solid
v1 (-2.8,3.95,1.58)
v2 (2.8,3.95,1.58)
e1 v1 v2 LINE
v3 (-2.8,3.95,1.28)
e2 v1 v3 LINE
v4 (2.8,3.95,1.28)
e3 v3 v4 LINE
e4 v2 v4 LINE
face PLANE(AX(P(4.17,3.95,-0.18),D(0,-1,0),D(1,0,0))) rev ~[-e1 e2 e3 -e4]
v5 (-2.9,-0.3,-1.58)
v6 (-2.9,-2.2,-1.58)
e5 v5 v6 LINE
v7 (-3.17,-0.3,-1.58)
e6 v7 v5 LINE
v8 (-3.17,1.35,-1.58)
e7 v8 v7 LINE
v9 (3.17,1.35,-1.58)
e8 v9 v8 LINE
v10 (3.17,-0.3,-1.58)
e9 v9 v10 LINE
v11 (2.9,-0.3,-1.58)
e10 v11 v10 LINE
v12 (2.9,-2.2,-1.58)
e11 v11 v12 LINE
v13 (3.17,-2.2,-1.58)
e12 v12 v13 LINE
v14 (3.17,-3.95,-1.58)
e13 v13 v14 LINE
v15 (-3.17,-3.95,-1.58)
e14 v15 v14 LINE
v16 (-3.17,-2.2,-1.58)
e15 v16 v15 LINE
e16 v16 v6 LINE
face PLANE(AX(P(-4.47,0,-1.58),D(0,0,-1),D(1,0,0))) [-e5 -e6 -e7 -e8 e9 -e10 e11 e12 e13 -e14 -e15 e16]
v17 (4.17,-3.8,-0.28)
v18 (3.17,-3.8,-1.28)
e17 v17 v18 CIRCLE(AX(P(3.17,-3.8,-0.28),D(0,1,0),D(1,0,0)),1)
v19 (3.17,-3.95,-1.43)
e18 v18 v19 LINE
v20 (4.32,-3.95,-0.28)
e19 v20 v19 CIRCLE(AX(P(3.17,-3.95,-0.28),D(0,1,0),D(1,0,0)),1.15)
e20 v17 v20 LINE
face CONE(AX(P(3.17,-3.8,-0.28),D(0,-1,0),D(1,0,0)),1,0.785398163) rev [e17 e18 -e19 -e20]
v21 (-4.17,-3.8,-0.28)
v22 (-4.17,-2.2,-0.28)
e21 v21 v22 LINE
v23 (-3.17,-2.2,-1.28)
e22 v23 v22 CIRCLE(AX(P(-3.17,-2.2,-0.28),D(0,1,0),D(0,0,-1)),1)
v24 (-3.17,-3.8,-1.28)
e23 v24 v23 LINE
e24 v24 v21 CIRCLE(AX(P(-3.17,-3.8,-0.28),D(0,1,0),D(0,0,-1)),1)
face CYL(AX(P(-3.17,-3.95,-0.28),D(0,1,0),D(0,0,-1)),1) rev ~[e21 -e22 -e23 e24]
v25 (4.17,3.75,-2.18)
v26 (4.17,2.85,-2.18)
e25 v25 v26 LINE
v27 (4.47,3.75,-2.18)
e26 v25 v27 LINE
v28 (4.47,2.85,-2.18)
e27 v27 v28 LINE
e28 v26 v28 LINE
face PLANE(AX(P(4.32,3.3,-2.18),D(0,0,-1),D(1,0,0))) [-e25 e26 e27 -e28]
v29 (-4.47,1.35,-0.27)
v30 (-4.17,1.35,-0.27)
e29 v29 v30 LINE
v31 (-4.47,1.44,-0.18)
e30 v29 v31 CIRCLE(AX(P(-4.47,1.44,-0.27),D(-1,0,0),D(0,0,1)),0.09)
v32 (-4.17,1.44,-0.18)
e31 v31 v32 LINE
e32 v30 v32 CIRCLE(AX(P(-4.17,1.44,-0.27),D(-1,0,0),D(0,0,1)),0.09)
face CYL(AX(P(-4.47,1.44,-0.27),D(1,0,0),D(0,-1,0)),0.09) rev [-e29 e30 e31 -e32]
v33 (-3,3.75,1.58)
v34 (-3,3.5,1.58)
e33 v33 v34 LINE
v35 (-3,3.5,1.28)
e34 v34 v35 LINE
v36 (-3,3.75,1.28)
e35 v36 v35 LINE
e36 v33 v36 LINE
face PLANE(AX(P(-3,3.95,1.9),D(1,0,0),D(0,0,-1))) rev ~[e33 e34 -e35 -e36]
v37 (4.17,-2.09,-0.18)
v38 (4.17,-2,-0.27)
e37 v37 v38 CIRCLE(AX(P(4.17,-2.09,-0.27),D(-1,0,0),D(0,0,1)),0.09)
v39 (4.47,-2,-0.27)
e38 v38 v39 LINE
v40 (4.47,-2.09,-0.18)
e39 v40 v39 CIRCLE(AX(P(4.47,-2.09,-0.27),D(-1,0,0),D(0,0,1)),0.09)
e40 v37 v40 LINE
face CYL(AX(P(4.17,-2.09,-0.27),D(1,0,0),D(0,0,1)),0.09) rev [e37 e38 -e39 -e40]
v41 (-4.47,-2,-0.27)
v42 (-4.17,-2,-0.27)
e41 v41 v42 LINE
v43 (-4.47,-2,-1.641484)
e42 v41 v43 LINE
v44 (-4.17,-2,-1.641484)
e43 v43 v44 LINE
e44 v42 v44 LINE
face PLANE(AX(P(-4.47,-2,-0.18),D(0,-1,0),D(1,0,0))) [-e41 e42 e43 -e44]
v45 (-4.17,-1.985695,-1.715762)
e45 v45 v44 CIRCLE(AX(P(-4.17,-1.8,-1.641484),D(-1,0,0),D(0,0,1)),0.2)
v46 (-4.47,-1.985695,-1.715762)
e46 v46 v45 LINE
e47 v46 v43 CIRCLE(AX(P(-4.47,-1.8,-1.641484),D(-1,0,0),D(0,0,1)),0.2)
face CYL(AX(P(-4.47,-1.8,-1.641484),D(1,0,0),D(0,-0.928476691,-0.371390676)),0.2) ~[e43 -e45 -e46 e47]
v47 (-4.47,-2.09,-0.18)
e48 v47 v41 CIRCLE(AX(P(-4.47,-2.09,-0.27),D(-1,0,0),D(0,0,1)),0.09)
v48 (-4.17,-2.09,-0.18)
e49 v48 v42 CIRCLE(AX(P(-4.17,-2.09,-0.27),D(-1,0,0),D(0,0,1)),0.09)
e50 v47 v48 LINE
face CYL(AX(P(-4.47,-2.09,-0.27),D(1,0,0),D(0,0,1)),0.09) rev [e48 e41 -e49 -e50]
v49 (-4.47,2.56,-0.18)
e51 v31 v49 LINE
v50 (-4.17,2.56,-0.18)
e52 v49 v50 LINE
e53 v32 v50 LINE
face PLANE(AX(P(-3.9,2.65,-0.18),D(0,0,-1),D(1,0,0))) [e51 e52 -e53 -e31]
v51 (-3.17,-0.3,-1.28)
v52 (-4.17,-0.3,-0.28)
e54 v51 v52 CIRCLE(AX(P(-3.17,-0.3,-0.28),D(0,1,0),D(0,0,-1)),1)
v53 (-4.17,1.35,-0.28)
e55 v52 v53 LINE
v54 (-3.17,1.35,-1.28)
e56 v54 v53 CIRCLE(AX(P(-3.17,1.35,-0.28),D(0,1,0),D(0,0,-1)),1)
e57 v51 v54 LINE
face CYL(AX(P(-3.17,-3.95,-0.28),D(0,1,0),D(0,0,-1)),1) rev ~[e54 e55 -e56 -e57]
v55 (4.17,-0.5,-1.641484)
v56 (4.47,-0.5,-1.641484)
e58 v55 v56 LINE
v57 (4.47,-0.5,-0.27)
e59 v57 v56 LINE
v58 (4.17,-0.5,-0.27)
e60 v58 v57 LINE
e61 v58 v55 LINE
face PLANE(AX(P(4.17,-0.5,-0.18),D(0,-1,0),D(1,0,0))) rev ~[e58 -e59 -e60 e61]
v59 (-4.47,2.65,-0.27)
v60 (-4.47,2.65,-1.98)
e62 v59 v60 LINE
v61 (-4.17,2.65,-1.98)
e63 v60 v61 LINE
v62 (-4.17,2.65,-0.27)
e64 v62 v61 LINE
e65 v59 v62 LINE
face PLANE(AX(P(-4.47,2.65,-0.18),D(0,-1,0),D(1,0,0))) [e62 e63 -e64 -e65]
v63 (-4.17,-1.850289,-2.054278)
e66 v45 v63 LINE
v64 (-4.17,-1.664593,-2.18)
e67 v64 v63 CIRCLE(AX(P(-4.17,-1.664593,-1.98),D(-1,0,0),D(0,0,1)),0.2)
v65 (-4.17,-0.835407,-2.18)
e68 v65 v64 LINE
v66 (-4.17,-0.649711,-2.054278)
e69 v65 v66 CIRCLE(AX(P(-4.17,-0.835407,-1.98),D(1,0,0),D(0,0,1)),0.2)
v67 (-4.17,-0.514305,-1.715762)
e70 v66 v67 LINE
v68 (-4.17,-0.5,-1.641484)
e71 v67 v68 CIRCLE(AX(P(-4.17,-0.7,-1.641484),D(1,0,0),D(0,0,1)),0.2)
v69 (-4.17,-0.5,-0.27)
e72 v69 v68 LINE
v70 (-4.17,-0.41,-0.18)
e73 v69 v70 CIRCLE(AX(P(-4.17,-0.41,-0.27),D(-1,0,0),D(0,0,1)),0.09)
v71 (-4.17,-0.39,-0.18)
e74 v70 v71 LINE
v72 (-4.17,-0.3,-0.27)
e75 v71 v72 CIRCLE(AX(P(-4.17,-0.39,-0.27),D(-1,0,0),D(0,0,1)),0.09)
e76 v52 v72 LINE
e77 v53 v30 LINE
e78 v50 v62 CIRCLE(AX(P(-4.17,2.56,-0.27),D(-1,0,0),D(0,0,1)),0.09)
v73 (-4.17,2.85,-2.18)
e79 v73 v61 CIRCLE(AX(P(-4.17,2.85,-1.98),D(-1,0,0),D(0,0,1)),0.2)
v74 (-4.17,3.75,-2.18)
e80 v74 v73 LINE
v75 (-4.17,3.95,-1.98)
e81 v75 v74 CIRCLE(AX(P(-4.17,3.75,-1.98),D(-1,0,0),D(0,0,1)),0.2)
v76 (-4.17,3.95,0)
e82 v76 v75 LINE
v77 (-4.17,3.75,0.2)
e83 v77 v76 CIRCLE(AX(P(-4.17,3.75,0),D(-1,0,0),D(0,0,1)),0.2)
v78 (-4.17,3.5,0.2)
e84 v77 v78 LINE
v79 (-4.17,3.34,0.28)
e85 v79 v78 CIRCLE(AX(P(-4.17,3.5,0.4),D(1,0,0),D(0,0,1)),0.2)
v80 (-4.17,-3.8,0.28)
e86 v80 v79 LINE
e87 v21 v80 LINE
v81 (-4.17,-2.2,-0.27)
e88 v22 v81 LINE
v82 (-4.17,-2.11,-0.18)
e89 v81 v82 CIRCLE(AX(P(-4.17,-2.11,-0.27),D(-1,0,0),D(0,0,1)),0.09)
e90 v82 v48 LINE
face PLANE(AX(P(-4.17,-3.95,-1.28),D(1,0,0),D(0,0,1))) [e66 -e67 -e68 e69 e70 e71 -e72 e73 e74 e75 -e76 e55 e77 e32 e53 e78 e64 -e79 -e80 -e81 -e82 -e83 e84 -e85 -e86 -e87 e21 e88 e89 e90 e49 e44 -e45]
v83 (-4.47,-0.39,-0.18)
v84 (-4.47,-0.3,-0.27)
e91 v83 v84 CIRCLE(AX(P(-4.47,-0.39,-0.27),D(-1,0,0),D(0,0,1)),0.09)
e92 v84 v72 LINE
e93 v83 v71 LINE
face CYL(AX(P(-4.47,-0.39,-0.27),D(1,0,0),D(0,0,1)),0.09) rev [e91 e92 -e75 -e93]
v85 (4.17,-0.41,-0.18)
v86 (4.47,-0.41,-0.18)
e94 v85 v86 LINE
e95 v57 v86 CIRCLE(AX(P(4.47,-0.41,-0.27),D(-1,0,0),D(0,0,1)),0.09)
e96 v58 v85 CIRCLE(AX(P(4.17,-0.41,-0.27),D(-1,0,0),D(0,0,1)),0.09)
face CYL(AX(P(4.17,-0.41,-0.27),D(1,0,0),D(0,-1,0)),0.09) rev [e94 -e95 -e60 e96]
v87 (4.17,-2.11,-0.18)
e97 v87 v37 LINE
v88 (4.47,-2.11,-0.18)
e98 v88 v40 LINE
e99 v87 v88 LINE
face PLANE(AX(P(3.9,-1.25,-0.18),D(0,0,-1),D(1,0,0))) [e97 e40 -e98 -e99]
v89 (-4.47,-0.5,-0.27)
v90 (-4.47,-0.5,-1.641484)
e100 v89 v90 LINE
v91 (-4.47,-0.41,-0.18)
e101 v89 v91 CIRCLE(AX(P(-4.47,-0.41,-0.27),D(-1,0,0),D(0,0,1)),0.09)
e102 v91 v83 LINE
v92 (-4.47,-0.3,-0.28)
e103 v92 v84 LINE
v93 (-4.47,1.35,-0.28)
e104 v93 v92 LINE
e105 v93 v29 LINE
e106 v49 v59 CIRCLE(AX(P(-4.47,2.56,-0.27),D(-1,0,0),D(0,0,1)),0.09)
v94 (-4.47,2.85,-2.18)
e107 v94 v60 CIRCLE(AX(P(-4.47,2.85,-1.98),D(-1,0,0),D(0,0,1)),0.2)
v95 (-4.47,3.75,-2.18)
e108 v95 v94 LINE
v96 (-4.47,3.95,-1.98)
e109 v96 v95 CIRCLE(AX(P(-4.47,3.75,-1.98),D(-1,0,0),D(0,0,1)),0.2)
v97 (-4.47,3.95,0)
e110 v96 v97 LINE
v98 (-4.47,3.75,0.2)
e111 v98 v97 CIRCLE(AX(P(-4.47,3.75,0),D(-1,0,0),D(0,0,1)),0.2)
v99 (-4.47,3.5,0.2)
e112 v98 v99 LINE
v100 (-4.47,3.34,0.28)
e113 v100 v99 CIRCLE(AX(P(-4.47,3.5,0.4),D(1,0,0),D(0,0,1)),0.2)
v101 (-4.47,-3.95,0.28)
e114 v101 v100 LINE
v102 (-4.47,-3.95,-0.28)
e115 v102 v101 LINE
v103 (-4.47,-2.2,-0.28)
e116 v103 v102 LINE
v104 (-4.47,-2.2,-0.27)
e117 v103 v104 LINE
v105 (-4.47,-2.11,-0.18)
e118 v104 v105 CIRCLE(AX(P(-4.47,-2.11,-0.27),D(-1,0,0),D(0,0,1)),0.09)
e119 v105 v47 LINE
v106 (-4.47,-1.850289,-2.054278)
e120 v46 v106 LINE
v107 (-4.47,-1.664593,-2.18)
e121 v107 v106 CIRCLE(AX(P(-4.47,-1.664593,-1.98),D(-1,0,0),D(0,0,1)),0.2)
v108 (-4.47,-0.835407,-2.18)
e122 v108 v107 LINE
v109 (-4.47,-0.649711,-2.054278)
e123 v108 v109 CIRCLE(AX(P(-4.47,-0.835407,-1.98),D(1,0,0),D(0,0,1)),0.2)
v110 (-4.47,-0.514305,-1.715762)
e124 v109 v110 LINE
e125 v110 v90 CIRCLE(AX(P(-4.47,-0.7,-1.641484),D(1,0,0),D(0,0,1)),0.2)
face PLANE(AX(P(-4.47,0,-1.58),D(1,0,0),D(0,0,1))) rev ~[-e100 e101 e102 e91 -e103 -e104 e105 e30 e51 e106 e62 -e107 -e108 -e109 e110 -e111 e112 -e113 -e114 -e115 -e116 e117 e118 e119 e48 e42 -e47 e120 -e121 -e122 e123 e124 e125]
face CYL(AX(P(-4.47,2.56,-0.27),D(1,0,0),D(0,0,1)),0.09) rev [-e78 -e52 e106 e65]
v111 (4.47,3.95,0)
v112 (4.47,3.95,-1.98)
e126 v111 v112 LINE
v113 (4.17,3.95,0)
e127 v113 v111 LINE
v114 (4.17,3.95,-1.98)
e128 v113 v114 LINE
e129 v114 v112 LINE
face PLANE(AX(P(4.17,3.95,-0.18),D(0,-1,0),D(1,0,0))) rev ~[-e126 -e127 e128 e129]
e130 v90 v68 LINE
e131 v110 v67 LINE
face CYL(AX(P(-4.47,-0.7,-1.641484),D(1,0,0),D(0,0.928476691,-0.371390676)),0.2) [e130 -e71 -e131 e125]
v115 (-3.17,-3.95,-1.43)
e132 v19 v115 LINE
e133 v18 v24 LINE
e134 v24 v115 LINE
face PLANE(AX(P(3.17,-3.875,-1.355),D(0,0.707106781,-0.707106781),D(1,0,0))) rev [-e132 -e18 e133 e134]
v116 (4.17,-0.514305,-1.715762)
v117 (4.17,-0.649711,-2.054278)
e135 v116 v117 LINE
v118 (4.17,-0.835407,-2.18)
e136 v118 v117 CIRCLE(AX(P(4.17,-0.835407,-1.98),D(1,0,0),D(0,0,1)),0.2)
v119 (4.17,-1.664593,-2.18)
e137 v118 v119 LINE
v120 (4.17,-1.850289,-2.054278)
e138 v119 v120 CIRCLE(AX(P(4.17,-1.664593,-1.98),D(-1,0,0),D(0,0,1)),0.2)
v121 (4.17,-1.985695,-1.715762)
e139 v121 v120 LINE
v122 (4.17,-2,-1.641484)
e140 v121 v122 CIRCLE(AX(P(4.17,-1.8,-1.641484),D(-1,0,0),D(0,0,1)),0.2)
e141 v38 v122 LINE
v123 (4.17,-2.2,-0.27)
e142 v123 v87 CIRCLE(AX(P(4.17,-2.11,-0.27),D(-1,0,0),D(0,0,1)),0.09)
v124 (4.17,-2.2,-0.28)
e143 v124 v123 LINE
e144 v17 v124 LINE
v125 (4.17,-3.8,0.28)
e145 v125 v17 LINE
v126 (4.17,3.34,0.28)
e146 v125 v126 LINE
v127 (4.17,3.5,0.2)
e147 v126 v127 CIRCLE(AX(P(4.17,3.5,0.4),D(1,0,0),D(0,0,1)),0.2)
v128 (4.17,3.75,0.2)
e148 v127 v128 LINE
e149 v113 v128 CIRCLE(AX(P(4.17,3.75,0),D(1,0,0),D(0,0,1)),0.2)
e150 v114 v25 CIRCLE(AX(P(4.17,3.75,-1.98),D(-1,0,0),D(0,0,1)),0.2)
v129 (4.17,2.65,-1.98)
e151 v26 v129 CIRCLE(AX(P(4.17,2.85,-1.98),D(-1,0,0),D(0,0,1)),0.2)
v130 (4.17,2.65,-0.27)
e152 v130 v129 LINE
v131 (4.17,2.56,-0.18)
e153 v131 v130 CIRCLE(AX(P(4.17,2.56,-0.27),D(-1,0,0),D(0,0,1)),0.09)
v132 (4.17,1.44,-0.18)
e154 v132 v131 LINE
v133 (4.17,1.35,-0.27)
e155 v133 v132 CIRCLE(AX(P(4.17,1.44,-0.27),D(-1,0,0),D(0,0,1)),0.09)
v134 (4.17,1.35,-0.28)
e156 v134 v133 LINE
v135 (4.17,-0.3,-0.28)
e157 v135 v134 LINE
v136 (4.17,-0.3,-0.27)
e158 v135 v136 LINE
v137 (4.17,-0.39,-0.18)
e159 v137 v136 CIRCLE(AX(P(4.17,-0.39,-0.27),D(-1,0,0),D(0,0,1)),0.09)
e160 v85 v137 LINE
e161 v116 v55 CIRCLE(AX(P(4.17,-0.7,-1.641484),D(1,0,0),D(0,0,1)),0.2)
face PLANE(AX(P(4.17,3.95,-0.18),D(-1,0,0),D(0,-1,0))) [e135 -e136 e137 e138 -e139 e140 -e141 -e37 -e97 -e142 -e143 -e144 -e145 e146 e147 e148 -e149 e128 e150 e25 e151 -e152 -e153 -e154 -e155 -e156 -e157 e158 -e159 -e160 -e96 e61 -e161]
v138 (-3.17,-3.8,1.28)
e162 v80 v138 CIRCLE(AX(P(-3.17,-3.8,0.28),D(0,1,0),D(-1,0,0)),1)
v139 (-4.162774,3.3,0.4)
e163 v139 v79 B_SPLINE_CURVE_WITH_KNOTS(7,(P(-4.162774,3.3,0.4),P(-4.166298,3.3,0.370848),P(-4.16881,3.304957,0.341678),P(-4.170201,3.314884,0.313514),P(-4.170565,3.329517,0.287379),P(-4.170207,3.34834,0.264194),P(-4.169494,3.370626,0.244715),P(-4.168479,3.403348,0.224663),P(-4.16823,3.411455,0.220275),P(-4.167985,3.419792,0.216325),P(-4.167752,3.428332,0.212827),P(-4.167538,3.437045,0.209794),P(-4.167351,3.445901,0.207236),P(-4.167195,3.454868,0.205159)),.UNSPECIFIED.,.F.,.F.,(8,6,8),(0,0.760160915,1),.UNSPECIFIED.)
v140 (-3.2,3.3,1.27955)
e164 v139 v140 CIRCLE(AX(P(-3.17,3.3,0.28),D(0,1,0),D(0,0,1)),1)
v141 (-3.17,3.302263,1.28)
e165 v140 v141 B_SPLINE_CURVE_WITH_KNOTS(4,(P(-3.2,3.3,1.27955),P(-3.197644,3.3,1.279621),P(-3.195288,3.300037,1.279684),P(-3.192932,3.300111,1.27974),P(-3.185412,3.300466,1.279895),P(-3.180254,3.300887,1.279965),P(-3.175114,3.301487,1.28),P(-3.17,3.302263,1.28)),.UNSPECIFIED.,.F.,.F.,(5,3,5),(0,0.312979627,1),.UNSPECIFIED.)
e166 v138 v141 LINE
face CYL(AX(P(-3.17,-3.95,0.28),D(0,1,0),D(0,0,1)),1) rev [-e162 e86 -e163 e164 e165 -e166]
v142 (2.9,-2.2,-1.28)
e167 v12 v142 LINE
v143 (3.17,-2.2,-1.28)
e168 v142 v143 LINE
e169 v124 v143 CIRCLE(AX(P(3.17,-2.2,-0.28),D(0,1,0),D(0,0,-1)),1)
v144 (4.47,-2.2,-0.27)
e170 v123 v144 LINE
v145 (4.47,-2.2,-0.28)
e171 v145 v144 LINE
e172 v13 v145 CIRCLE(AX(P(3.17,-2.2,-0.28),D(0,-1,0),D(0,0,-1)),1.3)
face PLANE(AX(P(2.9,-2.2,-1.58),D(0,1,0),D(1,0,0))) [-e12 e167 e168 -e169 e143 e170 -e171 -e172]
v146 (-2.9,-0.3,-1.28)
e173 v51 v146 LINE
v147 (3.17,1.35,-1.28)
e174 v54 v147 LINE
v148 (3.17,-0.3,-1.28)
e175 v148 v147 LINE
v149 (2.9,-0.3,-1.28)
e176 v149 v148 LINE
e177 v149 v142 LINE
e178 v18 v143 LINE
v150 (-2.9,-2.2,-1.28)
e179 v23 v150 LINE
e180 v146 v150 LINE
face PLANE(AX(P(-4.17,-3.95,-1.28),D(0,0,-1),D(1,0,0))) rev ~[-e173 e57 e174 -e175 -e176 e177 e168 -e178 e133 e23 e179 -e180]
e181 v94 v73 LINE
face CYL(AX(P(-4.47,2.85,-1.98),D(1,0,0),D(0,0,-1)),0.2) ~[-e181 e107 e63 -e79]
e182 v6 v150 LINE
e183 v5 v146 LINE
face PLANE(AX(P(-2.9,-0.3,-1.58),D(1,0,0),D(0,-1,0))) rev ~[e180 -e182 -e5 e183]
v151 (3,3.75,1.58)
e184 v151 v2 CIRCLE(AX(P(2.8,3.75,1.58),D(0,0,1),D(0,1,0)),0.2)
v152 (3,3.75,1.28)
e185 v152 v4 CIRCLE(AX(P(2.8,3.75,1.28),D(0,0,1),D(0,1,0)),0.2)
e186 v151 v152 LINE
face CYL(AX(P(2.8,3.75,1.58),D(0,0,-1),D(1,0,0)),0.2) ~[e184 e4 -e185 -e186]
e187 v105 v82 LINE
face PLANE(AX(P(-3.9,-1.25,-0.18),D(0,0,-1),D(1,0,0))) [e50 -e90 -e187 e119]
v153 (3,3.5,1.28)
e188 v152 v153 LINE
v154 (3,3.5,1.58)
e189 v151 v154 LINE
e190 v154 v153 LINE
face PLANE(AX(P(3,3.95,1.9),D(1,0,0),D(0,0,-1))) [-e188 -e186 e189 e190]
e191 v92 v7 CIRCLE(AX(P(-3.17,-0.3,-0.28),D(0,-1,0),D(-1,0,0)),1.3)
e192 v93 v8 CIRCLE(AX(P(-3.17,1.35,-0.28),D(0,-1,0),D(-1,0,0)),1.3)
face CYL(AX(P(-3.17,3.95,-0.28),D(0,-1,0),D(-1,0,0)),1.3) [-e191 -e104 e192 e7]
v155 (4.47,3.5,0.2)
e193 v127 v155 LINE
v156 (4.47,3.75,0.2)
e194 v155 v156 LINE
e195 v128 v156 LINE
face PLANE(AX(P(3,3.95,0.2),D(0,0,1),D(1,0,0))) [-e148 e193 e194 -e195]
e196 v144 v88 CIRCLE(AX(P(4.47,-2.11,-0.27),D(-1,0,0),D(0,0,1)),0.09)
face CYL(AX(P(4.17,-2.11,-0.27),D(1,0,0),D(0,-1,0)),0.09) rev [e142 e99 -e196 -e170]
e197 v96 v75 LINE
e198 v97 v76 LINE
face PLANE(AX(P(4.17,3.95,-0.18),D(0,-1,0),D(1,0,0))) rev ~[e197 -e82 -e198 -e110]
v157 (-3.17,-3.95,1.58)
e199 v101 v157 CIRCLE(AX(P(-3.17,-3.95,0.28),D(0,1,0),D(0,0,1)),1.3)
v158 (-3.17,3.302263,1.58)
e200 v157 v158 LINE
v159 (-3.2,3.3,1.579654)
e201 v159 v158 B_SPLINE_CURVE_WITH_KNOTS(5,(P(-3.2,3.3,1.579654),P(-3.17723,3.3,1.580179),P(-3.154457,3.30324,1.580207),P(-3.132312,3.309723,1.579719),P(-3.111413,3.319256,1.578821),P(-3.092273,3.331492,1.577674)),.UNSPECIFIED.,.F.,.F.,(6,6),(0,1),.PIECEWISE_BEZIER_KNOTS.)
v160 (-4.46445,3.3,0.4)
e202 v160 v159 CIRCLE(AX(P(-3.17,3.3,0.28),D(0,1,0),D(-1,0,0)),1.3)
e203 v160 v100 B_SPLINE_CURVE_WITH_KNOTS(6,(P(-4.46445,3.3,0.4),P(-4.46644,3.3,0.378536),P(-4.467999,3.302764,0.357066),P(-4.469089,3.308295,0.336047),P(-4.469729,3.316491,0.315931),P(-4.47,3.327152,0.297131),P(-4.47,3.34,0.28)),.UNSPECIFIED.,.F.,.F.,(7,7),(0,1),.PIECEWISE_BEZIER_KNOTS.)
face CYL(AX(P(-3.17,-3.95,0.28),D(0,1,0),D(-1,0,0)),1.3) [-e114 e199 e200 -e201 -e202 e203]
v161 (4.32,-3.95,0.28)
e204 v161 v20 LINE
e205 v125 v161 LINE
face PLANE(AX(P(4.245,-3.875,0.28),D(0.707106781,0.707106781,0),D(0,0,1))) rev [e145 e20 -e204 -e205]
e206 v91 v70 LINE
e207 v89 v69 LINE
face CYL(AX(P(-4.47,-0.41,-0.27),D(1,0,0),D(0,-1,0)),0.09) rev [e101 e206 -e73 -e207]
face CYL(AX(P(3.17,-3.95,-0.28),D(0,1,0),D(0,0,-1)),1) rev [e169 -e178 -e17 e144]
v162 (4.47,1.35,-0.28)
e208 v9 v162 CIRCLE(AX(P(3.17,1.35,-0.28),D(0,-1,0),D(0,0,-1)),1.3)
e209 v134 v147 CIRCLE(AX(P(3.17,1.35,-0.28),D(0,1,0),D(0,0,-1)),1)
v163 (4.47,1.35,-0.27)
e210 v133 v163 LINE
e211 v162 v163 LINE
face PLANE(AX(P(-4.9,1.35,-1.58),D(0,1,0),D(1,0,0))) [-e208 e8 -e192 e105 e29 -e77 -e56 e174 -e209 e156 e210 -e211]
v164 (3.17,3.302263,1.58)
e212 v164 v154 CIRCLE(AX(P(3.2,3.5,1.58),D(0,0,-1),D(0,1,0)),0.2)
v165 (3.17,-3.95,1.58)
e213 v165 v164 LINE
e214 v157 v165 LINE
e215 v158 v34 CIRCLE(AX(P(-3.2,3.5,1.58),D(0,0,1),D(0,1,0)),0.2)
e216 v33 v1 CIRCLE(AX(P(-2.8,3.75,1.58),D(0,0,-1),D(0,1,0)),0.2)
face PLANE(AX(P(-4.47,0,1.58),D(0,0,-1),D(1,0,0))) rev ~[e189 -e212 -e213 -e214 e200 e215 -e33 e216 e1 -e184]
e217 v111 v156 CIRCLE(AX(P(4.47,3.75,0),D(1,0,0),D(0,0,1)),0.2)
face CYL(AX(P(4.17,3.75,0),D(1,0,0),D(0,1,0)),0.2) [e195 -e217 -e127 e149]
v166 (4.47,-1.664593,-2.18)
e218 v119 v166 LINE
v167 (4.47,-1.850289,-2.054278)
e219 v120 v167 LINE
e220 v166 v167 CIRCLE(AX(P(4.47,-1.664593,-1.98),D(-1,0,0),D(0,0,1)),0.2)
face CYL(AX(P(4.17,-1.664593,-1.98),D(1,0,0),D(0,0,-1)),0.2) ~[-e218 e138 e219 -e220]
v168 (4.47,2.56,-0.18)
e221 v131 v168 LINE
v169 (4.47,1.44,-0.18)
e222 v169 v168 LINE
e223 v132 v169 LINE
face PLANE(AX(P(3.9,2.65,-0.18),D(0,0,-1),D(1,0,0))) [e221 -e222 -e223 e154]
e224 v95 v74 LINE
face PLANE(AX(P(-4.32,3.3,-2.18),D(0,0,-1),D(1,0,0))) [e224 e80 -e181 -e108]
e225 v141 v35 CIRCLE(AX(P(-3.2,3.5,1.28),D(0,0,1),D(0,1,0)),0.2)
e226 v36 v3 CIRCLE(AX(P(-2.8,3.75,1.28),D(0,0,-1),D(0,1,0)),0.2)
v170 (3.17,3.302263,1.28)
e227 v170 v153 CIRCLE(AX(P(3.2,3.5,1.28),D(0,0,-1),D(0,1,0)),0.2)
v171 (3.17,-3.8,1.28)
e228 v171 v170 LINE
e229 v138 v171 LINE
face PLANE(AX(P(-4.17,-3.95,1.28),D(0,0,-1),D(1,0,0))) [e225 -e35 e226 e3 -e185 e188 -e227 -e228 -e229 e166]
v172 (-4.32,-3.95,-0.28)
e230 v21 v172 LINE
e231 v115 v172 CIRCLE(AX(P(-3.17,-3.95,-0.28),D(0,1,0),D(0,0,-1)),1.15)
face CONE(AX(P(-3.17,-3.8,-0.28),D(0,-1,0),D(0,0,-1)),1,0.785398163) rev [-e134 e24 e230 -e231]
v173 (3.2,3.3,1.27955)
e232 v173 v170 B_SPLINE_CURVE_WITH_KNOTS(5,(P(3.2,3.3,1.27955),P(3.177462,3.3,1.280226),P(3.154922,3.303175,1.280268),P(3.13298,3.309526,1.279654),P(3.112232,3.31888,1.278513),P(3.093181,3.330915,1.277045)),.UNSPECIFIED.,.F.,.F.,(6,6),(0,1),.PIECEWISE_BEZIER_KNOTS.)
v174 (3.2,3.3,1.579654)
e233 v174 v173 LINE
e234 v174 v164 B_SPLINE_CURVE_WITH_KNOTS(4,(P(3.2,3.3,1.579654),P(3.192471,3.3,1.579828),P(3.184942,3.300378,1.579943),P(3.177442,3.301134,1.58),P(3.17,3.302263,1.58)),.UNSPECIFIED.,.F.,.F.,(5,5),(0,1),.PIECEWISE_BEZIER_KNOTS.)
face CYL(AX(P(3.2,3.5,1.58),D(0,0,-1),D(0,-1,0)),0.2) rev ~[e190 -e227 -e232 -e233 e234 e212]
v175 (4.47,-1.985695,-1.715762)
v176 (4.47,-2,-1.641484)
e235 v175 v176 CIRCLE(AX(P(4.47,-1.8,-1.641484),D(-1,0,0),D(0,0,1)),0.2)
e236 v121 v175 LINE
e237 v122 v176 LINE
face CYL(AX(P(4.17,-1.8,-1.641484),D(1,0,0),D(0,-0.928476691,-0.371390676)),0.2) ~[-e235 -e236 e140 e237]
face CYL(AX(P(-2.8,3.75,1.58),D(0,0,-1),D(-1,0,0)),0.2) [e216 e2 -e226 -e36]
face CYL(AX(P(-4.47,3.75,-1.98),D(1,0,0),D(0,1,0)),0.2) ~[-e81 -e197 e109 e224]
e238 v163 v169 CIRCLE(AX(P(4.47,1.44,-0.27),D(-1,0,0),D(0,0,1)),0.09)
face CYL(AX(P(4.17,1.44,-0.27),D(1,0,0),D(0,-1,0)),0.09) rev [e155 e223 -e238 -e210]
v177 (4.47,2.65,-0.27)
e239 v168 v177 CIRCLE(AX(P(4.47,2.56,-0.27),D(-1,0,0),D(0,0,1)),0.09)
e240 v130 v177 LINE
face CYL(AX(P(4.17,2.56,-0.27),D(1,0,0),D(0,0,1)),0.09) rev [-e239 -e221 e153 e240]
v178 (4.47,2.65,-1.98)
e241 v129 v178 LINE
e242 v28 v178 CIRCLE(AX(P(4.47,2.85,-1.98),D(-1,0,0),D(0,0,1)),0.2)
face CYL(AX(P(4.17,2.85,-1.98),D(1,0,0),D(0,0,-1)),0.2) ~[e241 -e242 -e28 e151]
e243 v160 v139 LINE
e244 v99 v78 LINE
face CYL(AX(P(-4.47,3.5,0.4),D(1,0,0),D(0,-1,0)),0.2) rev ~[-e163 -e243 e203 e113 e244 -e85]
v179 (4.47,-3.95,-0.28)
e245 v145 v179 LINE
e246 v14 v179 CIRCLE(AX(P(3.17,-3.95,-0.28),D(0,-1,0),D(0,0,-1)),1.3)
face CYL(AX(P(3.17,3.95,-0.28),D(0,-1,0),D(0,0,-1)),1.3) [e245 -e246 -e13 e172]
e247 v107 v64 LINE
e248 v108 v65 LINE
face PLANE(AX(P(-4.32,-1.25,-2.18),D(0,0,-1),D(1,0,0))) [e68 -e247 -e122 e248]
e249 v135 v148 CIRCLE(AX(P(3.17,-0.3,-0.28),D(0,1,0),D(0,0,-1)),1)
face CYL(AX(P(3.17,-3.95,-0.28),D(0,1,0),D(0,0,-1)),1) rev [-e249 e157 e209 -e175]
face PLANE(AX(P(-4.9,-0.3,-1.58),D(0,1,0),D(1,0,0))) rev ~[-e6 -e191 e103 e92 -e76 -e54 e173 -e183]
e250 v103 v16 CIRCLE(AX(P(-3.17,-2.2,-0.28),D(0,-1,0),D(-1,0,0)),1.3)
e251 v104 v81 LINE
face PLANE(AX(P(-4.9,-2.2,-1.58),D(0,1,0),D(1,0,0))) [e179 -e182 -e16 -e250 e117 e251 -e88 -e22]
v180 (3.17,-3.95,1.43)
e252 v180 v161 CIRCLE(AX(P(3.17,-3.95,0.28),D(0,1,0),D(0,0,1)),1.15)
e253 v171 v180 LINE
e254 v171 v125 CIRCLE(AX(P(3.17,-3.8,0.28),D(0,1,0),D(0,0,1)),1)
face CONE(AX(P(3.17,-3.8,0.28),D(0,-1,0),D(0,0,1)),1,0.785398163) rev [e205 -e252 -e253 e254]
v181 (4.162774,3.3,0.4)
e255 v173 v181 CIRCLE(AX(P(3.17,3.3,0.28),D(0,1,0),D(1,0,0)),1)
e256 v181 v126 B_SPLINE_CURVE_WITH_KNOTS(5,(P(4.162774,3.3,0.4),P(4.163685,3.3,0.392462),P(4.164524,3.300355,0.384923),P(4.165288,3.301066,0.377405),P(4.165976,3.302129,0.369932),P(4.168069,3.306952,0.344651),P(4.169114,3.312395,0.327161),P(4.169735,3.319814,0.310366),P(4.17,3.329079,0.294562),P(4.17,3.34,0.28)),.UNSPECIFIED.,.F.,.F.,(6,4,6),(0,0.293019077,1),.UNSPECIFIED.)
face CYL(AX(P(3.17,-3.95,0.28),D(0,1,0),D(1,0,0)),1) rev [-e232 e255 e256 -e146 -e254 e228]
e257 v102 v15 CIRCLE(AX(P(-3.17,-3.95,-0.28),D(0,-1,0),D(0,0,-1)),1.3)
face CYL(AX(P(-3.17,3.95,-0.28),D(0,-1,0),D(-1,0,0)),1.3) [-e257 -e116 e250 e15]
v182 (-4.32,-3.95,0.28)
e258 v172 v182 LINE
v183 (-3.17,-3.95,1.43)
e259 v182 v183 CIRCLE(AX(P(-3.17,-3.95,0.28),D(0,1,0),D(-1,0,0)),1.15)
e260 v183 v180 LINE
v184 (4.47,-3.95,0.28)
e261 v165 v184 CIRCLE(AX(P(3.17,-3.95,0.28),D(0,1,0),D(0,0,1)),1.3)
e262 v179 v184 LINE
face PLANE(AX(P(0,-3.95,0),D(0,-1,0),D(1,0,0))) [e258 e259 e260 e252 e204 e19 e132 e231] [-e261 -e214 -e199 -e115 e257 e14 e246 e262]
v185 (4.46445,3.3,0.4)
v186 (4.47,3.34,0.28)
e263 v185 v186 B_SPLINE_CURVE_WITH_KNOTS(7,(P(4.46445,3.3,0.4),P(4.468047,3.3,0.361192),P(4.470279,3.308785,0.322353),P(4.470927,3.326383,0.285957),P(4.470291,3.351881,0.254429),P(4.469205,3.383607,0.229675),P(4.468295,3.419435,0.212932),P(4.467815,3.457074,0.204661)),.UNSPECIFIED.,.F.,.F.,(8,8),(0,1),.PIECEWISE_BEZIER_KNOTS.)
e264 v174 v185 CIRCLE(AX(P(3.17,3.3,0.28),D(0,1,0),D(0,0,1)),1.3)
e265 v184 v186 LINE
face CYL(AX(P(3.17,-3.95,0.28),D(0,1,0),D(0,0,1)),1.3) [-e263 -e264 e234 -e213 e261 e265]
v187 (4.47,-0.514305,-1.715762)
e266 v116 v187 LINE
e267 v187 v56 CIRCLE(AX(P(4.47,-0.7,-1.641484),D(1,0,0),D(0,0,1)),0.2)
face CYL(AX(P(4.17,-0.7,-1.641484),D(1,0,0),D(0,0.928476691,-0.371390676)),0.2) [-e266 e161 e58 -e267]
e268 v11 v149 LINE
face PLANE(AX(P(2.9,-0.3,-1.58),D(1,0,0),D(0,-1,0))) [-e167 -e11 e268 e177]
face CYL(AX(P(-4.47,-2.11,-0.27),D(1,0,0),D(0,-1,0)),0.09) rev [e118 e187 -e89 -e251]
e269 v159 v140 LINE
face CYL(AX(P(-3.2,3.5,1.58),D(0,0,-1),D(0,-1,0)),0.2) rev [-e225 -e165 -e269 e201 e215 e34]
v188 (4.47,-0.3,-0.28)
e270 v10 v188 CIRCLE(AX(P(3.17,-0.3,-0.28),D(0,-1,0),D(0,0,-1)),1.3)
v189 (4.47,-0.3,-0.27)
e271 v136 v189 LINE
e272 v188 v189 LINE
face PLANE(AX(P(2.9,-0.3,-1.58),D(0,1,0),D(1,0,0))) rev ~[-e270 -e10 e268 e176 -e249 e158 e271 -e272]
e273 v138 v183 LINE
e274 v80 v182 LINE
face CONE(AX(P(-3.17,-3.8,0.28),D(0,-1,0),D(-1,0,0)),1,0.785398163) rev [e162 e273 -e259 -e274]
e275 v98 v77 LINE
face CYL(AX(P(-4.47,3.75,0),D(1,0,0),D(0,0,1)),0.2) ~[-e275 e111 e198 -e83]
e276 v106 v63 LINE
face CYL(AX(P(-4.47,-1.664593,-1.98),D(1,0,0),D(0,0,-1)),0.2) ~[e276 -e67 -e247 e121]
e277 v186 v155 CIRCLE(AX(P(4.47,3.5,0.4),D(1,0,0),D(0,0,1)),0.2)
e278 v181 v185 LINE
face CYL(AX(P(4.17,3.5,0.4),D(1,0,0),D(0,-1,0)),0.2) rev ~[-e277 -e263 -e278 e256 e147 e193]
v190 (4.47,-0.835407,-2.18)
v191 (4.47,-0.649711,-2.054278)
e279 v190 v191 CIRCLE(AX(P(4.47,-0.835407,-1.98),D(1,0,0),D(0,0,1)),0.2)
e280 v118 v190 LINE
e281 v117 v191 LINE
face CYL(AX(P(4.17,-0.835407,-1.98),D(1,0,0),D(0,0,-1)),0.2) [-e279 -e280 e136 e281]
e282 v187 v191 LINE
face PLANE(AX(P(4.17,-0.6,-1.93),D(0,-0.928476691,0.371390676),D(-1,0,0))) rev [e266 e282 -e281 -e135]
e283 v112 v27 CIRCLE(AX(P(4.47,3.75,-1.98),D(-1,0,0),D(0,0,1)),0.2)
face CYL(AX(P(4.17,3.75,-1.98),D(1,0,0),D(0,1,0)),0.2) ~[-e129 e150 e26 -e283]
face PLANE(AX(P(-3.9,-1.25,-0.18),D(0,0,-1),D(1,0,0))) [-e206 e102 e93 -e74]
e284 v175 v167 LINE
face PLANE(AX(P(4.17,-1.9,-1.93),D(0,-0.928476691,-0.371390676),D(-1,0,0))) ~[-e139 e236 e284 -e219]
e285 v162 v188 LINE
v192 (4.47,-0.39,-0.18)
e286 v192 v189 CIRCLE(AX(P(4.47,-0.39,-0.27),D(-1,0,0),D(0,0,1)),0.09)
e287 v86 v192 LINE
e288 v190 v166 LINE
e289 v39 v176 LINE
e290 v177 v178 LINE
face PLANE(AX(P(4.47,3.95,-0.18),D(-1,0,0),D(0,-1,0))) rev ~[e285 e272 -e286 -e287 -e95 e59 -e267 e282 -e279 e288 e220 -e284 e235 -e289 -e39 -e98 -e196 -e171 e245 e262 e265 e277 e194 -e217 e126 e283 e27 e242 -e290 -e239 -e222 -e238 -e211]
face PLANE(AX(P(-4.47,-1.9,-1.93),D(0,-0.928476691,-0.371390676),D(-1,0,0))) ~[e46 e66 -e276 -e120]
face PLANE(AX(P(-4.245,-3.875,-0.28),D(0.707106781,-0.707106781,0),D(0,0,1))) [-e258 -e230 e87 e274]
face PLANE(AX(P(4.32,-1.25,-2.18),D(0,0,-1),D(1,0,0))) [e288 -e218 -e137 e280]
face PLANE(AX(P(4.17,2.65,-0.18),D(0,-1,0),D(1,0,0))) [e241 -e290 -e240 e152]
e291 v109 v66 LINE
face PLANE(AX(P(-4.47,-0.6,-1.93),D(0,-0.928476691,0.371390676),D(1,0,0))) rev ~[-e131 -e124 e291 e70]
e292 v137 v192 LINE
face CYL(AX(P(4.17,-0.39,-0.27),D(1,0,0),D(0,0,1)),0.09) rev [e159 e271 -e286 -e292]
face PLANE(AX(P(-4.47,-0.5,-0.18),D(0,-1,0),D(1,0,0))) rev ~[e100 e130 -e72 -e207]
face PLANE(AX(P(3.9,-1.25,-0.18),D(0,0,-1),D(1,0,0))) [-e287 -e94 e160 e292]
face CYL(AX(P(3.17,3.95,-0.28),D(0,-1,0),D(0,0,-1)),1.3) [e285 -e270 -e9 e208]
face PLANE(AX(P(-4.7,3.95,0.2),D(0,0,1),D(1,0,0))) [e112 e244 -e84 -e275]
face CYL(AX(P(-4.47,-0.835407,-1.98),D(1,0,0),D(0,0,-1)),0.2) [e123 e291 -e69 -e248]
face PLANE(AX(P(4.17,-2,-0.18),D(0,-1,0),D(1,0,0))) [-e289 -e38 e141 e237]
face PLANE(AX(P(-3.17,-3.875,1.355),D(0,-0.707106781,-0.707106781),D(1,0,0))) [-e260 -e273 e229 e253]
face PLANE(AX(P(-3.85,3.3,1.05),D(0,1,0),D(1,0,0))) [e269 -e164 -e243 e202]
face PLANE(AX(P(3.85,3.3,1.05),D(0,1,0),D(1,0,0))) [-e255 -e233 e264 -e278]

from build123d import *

# Parameters (mm, degrees)
SKETCH_W           = 8.94
SKETCH_H           = 3.16
PAD_DEPTH          = 3.95
SKETCH001_W        = 8.34
SKETCH001_H        = 2.56
POCKET_DEPTH       = 7.901
FILLET_R           = 1
FILLET001_R        = 1.3
CHAMFER_SIZE       = 0.15
SKETCH002_W        = 2
SKETCH002_H        = 1.9
SKETCH002_H_2      = 2.6
POCKET001_DEPTH    = 1.4
SKETCH003_W        = 0.3
SKETCH003_H        = 1.5
SKETCH003_H_2      = 1.3
PAD001_DEPTH       = 2
FILLET002_R        = 0.09
CHAMFER001_1_SIZE2 = 0.2
CHAMFER001_1_SIZE  = 0.5
CHAMFER001_2_SIZE2 = 0.2
CHAMFER001_2_SIZE  = 0.5
CHAMFER001_3_SIZE2 = 0.2
CHAMFER001_3_SIZE  = 0.5
CHAMFER002_SIZE2   = 0.5
CHAMFER002_SIZE    = 0.2
FILLET003_R        = 0.2
SKETCH004_W        = 5.8
SKETCH004_H        = 2.6
POCKET002_DEPTH    = 0.5
SKETCH005_W        = 1.7
SKETCH005_H        = 1.7
POCKET003_DEPTH    = 0.65
FILLET004_R        = 0.2


with BuildPart() as part:
    # Sketch → Pad (new body, symmetric)
    with BuildSketch(Plane.XZ):
        Rectangle(SKETCH_W, SKETCH_H)
    extrude(amount=PAD_DEPTH, both=True)

    # Sketch001 (on Face6 of Pad) → Pocket (cut, through all)
    with BuildSketch(Plane.XZ.offset(3.95)):
        Rectangle(SKETCH001_W, SKETCH001_H)
    extrude(amount=-POCKET_DEPTH, mode=Mode.SUBTRACT)

    # Fillet
    fillet_edges = [part.edges().sort_by_distance(p)[0] for p in [
        (-4.17, 0, -1.28),
        (-4.17, 0, 1.28),
        (4.17, 0, -1.28),
        (4.17, 0, 1.28),
    ]]
    fillet(fillet_edges, radius=FILLET_R)

    # Fillet001
    fillet001_edges = [part.edges().sort_by_distance(p)[0] for p in [
        (-4.47, 0, 1.58),
        (-4.47, 0, -1.58),
        (4.47, 0, 1.58),
        (4.47, 0, -1.58),
    ]]
    fillet(fillet001_edges, radius=FILLET001_R)

    # Chamfer
    chamfer_edges = [part.edges().sort_by_distance(p)[0] for p in [
        (0, -3.95, 1.28),
    ]]
    chamfer(chamfer_edges, length=CHAMFER_SIZE)

    # Sketch002 (on Face17 of Chamfer) → Pocket001 (cut)
    with BuildSketch(Plane(origin=(0, 0, -1.58), x_dir=(1, 0, 0), z_dir=(0, 0, -1))):
        with Locations((3.9, 1.25)):
            Rectangle(SKETCH002_W, SKETCH002_H)
        with Locations((-3.9, 1.25)):
            Rectangle(SKETCH002_W, SKETCH002_H)
        with Locations((-3.9, -2.65)):
            Rectangle(SKETCH002_W, SKETCH002_H_2)
        with Locations((3.9, -2.65)):
            Rectangle(SKETCH002_W, SKETCH002_H_2)
    extrude(amount=-POCKET001_DEPTH, mode=Mode.SUBTRACT)

    # Sketch003 (on Face5 of Pocket001) → Pad001 (join)
    with BuildSketch(Plane(origin=(0, 0, -0.18), x_dir=(1, 0, 0), z_dir=(0, 0, -1))):
        with Locations((-4.32, 1.25)):
            Rectangle(SKETCH003_W, SKETCH003_H)
        with Locations((4.32, 1.25)):
            Rectangle(SKETCH003_W, SKETCH003_H)
        with Locations((4.32, -3.3)):
            Rectangle(SKETCH003_W, SKETCH003_H_2)
        with Locations((-4.32, -3.3)):
            Rectangle(SKETCH003_W, SKETCH003_H_2)
    extrude(amount=PAD001_DEPTH)

    # Fillet002
    fillet002_edges = [part.edges().sort_by_distance(p)[0] for p in [
        (-4.32, -2, -0.18),
        (-4.32, -2.2, -0.18),
        (-4.32, -0.5, -0.18),
        (-4.32, -0.3, -0.18),
        (-4.32, 1.35, -0.18),
        (-4.32, 2.65, -0.18),
        (4.32, 2.65, -0.18),
        (4.32, 1.35, -0.18),
        (4.32, -2.2, -0.18),
        (4.32, -2, -0.18),
        (4.32, -0.5, -0.18),
        (4.32, -0.3, -0.18),
    ]]
    fillet(fillet002_edges, radius=FILLET002_R)

    # Chamfer001 1
    chamfer001_1_edges = [part.edges().sort_by_distance(p)[0] for p in [
        (4.32, -2, -2.18),
    ]]
    chamfer001_1_side = part.faces().sort_by_distance((4.32, -2, -1.225))[0]
    chamfer(chamfer001_1_edges, length=CHAMFER001_1_SIZE, length2=CHAMFER001_1_SIZE2, reference=chamfer001_1_side)

    # Chamfer001 2
    chamfer001_2_edges = [part.edges().sort_by_distance(p)[0] for p in [
        (4.32, -0.5, -2.18),
    ]]
    chamfer001_2_side = part.faces().sort_by_distance((4.32, -0.5, -1.225))[0]
    chamfer(chamfer001_2_edges, length=CHAMFER001_2_SIZE, length2=CHAMFER001_2_SIZE2, reference=chamfer001_2_side)

    # Chamfer001 3
    chamfer001_3_edges = [part.edges().sort_by_distance(p)[0] for p in [
        (-4.32, -2, -2.18),
    ]]
    chamfer001_3_side = part.faces().sort_by_distance((-4.32, -2, -1.225))[0]
    chamfer(chamfer001_3_edges, length=CHAMFER001_3_SIZE, length2=CHAMFER001_3_SIZE2, reference=chamfer001_3_side)

    # Chamfer002
    chamfer002_edges = [part.edges().sort_by_distance(p)[0] for p in [
        (-4.32, -0.5, -2.18),
    ]]
    chamfer002_side = part.faces().sort_by_distance((-4.32, -1.15, -2.18))[0]
    chamfer(chamfer002_edges, length=CHAMFER002_SIZE, length2=CHAMFER002_SIZE2, reference=chamfer002_side)

    # Fillet003
    fillet003_edges = [part.edges().sort_by_distance(p)[0] for p in [
        (-4.32, -0.7, -2.18),
        (-4.32, -1.8, -2.18),
        (-4.32, -0.5, -1.68),
        (-4.32, -2, -1.68),
        (4.32, -2, -1.68),
        (4.32, -0.5, -1.68),
        (4.32, -0.7, -2.18),
        (4.32, -1.8, -2.18),
        (4.32, 2.65, -2.18),
        (4.32, 3.95, -2.18),
        (-4.32, 2.65, -2.18),
        (-4.32, 3.95, -2.18),
    ]]
    fillet(fillet003_edges, radius=FILLET003_R)

    # Sketch004 (on Face36 of Fillet003) → Pocket002 (cut)
    with BuildSketch(Plane(origin=(0, 0, -1.58), x_dir=(1, 0, 0), z_dir=(0, 0, -1))):
        with Locations((0, -2.65)):
            Rectangle(SKETCH004_W, SKETCH004_H)
    extrude(amount=-POCKET002_DEPTH, mode=Mode.SUBTRACT)

    # Sketch005 (on Face24 of Pocket002) → Pocket003 (cut)
    with BuildSketch(Plane(origin=(0, 3.95, 0), x_dir=(1, 0, 0), z_dir=(0, 1, 0))):
        with Locations((-3.85, -1.05)):
            Rectangle(SKETCH005_W, SKETCH005_H)
        with Locations((3.85, -1.05)):
            Rectangle(SKETCH005_W, SKETCH005_H)
    extrude(amount=-POCKET003_DEPTH, mode=Mode.SUBTRACT)

    # Fillet004
    fillet004_edges = [part.edges().sort_by_distance(p)[0] for p in [
        (-3, 3.3, 1.43),
        (-4.32, 3.95, 0.2),
        (-4.32, 3.3, 0.2),
        (-3, 3.95, 1.43),
        (3, 3.95, 1.43),
        (3, 3.3, 1.43),
        (4.32, 3.3, 0.2),
        (4.32, 3.95, 0.2),
    ]]
    fillet(fillet004_edges, radius=FILLET004_R)


solid = part.part
